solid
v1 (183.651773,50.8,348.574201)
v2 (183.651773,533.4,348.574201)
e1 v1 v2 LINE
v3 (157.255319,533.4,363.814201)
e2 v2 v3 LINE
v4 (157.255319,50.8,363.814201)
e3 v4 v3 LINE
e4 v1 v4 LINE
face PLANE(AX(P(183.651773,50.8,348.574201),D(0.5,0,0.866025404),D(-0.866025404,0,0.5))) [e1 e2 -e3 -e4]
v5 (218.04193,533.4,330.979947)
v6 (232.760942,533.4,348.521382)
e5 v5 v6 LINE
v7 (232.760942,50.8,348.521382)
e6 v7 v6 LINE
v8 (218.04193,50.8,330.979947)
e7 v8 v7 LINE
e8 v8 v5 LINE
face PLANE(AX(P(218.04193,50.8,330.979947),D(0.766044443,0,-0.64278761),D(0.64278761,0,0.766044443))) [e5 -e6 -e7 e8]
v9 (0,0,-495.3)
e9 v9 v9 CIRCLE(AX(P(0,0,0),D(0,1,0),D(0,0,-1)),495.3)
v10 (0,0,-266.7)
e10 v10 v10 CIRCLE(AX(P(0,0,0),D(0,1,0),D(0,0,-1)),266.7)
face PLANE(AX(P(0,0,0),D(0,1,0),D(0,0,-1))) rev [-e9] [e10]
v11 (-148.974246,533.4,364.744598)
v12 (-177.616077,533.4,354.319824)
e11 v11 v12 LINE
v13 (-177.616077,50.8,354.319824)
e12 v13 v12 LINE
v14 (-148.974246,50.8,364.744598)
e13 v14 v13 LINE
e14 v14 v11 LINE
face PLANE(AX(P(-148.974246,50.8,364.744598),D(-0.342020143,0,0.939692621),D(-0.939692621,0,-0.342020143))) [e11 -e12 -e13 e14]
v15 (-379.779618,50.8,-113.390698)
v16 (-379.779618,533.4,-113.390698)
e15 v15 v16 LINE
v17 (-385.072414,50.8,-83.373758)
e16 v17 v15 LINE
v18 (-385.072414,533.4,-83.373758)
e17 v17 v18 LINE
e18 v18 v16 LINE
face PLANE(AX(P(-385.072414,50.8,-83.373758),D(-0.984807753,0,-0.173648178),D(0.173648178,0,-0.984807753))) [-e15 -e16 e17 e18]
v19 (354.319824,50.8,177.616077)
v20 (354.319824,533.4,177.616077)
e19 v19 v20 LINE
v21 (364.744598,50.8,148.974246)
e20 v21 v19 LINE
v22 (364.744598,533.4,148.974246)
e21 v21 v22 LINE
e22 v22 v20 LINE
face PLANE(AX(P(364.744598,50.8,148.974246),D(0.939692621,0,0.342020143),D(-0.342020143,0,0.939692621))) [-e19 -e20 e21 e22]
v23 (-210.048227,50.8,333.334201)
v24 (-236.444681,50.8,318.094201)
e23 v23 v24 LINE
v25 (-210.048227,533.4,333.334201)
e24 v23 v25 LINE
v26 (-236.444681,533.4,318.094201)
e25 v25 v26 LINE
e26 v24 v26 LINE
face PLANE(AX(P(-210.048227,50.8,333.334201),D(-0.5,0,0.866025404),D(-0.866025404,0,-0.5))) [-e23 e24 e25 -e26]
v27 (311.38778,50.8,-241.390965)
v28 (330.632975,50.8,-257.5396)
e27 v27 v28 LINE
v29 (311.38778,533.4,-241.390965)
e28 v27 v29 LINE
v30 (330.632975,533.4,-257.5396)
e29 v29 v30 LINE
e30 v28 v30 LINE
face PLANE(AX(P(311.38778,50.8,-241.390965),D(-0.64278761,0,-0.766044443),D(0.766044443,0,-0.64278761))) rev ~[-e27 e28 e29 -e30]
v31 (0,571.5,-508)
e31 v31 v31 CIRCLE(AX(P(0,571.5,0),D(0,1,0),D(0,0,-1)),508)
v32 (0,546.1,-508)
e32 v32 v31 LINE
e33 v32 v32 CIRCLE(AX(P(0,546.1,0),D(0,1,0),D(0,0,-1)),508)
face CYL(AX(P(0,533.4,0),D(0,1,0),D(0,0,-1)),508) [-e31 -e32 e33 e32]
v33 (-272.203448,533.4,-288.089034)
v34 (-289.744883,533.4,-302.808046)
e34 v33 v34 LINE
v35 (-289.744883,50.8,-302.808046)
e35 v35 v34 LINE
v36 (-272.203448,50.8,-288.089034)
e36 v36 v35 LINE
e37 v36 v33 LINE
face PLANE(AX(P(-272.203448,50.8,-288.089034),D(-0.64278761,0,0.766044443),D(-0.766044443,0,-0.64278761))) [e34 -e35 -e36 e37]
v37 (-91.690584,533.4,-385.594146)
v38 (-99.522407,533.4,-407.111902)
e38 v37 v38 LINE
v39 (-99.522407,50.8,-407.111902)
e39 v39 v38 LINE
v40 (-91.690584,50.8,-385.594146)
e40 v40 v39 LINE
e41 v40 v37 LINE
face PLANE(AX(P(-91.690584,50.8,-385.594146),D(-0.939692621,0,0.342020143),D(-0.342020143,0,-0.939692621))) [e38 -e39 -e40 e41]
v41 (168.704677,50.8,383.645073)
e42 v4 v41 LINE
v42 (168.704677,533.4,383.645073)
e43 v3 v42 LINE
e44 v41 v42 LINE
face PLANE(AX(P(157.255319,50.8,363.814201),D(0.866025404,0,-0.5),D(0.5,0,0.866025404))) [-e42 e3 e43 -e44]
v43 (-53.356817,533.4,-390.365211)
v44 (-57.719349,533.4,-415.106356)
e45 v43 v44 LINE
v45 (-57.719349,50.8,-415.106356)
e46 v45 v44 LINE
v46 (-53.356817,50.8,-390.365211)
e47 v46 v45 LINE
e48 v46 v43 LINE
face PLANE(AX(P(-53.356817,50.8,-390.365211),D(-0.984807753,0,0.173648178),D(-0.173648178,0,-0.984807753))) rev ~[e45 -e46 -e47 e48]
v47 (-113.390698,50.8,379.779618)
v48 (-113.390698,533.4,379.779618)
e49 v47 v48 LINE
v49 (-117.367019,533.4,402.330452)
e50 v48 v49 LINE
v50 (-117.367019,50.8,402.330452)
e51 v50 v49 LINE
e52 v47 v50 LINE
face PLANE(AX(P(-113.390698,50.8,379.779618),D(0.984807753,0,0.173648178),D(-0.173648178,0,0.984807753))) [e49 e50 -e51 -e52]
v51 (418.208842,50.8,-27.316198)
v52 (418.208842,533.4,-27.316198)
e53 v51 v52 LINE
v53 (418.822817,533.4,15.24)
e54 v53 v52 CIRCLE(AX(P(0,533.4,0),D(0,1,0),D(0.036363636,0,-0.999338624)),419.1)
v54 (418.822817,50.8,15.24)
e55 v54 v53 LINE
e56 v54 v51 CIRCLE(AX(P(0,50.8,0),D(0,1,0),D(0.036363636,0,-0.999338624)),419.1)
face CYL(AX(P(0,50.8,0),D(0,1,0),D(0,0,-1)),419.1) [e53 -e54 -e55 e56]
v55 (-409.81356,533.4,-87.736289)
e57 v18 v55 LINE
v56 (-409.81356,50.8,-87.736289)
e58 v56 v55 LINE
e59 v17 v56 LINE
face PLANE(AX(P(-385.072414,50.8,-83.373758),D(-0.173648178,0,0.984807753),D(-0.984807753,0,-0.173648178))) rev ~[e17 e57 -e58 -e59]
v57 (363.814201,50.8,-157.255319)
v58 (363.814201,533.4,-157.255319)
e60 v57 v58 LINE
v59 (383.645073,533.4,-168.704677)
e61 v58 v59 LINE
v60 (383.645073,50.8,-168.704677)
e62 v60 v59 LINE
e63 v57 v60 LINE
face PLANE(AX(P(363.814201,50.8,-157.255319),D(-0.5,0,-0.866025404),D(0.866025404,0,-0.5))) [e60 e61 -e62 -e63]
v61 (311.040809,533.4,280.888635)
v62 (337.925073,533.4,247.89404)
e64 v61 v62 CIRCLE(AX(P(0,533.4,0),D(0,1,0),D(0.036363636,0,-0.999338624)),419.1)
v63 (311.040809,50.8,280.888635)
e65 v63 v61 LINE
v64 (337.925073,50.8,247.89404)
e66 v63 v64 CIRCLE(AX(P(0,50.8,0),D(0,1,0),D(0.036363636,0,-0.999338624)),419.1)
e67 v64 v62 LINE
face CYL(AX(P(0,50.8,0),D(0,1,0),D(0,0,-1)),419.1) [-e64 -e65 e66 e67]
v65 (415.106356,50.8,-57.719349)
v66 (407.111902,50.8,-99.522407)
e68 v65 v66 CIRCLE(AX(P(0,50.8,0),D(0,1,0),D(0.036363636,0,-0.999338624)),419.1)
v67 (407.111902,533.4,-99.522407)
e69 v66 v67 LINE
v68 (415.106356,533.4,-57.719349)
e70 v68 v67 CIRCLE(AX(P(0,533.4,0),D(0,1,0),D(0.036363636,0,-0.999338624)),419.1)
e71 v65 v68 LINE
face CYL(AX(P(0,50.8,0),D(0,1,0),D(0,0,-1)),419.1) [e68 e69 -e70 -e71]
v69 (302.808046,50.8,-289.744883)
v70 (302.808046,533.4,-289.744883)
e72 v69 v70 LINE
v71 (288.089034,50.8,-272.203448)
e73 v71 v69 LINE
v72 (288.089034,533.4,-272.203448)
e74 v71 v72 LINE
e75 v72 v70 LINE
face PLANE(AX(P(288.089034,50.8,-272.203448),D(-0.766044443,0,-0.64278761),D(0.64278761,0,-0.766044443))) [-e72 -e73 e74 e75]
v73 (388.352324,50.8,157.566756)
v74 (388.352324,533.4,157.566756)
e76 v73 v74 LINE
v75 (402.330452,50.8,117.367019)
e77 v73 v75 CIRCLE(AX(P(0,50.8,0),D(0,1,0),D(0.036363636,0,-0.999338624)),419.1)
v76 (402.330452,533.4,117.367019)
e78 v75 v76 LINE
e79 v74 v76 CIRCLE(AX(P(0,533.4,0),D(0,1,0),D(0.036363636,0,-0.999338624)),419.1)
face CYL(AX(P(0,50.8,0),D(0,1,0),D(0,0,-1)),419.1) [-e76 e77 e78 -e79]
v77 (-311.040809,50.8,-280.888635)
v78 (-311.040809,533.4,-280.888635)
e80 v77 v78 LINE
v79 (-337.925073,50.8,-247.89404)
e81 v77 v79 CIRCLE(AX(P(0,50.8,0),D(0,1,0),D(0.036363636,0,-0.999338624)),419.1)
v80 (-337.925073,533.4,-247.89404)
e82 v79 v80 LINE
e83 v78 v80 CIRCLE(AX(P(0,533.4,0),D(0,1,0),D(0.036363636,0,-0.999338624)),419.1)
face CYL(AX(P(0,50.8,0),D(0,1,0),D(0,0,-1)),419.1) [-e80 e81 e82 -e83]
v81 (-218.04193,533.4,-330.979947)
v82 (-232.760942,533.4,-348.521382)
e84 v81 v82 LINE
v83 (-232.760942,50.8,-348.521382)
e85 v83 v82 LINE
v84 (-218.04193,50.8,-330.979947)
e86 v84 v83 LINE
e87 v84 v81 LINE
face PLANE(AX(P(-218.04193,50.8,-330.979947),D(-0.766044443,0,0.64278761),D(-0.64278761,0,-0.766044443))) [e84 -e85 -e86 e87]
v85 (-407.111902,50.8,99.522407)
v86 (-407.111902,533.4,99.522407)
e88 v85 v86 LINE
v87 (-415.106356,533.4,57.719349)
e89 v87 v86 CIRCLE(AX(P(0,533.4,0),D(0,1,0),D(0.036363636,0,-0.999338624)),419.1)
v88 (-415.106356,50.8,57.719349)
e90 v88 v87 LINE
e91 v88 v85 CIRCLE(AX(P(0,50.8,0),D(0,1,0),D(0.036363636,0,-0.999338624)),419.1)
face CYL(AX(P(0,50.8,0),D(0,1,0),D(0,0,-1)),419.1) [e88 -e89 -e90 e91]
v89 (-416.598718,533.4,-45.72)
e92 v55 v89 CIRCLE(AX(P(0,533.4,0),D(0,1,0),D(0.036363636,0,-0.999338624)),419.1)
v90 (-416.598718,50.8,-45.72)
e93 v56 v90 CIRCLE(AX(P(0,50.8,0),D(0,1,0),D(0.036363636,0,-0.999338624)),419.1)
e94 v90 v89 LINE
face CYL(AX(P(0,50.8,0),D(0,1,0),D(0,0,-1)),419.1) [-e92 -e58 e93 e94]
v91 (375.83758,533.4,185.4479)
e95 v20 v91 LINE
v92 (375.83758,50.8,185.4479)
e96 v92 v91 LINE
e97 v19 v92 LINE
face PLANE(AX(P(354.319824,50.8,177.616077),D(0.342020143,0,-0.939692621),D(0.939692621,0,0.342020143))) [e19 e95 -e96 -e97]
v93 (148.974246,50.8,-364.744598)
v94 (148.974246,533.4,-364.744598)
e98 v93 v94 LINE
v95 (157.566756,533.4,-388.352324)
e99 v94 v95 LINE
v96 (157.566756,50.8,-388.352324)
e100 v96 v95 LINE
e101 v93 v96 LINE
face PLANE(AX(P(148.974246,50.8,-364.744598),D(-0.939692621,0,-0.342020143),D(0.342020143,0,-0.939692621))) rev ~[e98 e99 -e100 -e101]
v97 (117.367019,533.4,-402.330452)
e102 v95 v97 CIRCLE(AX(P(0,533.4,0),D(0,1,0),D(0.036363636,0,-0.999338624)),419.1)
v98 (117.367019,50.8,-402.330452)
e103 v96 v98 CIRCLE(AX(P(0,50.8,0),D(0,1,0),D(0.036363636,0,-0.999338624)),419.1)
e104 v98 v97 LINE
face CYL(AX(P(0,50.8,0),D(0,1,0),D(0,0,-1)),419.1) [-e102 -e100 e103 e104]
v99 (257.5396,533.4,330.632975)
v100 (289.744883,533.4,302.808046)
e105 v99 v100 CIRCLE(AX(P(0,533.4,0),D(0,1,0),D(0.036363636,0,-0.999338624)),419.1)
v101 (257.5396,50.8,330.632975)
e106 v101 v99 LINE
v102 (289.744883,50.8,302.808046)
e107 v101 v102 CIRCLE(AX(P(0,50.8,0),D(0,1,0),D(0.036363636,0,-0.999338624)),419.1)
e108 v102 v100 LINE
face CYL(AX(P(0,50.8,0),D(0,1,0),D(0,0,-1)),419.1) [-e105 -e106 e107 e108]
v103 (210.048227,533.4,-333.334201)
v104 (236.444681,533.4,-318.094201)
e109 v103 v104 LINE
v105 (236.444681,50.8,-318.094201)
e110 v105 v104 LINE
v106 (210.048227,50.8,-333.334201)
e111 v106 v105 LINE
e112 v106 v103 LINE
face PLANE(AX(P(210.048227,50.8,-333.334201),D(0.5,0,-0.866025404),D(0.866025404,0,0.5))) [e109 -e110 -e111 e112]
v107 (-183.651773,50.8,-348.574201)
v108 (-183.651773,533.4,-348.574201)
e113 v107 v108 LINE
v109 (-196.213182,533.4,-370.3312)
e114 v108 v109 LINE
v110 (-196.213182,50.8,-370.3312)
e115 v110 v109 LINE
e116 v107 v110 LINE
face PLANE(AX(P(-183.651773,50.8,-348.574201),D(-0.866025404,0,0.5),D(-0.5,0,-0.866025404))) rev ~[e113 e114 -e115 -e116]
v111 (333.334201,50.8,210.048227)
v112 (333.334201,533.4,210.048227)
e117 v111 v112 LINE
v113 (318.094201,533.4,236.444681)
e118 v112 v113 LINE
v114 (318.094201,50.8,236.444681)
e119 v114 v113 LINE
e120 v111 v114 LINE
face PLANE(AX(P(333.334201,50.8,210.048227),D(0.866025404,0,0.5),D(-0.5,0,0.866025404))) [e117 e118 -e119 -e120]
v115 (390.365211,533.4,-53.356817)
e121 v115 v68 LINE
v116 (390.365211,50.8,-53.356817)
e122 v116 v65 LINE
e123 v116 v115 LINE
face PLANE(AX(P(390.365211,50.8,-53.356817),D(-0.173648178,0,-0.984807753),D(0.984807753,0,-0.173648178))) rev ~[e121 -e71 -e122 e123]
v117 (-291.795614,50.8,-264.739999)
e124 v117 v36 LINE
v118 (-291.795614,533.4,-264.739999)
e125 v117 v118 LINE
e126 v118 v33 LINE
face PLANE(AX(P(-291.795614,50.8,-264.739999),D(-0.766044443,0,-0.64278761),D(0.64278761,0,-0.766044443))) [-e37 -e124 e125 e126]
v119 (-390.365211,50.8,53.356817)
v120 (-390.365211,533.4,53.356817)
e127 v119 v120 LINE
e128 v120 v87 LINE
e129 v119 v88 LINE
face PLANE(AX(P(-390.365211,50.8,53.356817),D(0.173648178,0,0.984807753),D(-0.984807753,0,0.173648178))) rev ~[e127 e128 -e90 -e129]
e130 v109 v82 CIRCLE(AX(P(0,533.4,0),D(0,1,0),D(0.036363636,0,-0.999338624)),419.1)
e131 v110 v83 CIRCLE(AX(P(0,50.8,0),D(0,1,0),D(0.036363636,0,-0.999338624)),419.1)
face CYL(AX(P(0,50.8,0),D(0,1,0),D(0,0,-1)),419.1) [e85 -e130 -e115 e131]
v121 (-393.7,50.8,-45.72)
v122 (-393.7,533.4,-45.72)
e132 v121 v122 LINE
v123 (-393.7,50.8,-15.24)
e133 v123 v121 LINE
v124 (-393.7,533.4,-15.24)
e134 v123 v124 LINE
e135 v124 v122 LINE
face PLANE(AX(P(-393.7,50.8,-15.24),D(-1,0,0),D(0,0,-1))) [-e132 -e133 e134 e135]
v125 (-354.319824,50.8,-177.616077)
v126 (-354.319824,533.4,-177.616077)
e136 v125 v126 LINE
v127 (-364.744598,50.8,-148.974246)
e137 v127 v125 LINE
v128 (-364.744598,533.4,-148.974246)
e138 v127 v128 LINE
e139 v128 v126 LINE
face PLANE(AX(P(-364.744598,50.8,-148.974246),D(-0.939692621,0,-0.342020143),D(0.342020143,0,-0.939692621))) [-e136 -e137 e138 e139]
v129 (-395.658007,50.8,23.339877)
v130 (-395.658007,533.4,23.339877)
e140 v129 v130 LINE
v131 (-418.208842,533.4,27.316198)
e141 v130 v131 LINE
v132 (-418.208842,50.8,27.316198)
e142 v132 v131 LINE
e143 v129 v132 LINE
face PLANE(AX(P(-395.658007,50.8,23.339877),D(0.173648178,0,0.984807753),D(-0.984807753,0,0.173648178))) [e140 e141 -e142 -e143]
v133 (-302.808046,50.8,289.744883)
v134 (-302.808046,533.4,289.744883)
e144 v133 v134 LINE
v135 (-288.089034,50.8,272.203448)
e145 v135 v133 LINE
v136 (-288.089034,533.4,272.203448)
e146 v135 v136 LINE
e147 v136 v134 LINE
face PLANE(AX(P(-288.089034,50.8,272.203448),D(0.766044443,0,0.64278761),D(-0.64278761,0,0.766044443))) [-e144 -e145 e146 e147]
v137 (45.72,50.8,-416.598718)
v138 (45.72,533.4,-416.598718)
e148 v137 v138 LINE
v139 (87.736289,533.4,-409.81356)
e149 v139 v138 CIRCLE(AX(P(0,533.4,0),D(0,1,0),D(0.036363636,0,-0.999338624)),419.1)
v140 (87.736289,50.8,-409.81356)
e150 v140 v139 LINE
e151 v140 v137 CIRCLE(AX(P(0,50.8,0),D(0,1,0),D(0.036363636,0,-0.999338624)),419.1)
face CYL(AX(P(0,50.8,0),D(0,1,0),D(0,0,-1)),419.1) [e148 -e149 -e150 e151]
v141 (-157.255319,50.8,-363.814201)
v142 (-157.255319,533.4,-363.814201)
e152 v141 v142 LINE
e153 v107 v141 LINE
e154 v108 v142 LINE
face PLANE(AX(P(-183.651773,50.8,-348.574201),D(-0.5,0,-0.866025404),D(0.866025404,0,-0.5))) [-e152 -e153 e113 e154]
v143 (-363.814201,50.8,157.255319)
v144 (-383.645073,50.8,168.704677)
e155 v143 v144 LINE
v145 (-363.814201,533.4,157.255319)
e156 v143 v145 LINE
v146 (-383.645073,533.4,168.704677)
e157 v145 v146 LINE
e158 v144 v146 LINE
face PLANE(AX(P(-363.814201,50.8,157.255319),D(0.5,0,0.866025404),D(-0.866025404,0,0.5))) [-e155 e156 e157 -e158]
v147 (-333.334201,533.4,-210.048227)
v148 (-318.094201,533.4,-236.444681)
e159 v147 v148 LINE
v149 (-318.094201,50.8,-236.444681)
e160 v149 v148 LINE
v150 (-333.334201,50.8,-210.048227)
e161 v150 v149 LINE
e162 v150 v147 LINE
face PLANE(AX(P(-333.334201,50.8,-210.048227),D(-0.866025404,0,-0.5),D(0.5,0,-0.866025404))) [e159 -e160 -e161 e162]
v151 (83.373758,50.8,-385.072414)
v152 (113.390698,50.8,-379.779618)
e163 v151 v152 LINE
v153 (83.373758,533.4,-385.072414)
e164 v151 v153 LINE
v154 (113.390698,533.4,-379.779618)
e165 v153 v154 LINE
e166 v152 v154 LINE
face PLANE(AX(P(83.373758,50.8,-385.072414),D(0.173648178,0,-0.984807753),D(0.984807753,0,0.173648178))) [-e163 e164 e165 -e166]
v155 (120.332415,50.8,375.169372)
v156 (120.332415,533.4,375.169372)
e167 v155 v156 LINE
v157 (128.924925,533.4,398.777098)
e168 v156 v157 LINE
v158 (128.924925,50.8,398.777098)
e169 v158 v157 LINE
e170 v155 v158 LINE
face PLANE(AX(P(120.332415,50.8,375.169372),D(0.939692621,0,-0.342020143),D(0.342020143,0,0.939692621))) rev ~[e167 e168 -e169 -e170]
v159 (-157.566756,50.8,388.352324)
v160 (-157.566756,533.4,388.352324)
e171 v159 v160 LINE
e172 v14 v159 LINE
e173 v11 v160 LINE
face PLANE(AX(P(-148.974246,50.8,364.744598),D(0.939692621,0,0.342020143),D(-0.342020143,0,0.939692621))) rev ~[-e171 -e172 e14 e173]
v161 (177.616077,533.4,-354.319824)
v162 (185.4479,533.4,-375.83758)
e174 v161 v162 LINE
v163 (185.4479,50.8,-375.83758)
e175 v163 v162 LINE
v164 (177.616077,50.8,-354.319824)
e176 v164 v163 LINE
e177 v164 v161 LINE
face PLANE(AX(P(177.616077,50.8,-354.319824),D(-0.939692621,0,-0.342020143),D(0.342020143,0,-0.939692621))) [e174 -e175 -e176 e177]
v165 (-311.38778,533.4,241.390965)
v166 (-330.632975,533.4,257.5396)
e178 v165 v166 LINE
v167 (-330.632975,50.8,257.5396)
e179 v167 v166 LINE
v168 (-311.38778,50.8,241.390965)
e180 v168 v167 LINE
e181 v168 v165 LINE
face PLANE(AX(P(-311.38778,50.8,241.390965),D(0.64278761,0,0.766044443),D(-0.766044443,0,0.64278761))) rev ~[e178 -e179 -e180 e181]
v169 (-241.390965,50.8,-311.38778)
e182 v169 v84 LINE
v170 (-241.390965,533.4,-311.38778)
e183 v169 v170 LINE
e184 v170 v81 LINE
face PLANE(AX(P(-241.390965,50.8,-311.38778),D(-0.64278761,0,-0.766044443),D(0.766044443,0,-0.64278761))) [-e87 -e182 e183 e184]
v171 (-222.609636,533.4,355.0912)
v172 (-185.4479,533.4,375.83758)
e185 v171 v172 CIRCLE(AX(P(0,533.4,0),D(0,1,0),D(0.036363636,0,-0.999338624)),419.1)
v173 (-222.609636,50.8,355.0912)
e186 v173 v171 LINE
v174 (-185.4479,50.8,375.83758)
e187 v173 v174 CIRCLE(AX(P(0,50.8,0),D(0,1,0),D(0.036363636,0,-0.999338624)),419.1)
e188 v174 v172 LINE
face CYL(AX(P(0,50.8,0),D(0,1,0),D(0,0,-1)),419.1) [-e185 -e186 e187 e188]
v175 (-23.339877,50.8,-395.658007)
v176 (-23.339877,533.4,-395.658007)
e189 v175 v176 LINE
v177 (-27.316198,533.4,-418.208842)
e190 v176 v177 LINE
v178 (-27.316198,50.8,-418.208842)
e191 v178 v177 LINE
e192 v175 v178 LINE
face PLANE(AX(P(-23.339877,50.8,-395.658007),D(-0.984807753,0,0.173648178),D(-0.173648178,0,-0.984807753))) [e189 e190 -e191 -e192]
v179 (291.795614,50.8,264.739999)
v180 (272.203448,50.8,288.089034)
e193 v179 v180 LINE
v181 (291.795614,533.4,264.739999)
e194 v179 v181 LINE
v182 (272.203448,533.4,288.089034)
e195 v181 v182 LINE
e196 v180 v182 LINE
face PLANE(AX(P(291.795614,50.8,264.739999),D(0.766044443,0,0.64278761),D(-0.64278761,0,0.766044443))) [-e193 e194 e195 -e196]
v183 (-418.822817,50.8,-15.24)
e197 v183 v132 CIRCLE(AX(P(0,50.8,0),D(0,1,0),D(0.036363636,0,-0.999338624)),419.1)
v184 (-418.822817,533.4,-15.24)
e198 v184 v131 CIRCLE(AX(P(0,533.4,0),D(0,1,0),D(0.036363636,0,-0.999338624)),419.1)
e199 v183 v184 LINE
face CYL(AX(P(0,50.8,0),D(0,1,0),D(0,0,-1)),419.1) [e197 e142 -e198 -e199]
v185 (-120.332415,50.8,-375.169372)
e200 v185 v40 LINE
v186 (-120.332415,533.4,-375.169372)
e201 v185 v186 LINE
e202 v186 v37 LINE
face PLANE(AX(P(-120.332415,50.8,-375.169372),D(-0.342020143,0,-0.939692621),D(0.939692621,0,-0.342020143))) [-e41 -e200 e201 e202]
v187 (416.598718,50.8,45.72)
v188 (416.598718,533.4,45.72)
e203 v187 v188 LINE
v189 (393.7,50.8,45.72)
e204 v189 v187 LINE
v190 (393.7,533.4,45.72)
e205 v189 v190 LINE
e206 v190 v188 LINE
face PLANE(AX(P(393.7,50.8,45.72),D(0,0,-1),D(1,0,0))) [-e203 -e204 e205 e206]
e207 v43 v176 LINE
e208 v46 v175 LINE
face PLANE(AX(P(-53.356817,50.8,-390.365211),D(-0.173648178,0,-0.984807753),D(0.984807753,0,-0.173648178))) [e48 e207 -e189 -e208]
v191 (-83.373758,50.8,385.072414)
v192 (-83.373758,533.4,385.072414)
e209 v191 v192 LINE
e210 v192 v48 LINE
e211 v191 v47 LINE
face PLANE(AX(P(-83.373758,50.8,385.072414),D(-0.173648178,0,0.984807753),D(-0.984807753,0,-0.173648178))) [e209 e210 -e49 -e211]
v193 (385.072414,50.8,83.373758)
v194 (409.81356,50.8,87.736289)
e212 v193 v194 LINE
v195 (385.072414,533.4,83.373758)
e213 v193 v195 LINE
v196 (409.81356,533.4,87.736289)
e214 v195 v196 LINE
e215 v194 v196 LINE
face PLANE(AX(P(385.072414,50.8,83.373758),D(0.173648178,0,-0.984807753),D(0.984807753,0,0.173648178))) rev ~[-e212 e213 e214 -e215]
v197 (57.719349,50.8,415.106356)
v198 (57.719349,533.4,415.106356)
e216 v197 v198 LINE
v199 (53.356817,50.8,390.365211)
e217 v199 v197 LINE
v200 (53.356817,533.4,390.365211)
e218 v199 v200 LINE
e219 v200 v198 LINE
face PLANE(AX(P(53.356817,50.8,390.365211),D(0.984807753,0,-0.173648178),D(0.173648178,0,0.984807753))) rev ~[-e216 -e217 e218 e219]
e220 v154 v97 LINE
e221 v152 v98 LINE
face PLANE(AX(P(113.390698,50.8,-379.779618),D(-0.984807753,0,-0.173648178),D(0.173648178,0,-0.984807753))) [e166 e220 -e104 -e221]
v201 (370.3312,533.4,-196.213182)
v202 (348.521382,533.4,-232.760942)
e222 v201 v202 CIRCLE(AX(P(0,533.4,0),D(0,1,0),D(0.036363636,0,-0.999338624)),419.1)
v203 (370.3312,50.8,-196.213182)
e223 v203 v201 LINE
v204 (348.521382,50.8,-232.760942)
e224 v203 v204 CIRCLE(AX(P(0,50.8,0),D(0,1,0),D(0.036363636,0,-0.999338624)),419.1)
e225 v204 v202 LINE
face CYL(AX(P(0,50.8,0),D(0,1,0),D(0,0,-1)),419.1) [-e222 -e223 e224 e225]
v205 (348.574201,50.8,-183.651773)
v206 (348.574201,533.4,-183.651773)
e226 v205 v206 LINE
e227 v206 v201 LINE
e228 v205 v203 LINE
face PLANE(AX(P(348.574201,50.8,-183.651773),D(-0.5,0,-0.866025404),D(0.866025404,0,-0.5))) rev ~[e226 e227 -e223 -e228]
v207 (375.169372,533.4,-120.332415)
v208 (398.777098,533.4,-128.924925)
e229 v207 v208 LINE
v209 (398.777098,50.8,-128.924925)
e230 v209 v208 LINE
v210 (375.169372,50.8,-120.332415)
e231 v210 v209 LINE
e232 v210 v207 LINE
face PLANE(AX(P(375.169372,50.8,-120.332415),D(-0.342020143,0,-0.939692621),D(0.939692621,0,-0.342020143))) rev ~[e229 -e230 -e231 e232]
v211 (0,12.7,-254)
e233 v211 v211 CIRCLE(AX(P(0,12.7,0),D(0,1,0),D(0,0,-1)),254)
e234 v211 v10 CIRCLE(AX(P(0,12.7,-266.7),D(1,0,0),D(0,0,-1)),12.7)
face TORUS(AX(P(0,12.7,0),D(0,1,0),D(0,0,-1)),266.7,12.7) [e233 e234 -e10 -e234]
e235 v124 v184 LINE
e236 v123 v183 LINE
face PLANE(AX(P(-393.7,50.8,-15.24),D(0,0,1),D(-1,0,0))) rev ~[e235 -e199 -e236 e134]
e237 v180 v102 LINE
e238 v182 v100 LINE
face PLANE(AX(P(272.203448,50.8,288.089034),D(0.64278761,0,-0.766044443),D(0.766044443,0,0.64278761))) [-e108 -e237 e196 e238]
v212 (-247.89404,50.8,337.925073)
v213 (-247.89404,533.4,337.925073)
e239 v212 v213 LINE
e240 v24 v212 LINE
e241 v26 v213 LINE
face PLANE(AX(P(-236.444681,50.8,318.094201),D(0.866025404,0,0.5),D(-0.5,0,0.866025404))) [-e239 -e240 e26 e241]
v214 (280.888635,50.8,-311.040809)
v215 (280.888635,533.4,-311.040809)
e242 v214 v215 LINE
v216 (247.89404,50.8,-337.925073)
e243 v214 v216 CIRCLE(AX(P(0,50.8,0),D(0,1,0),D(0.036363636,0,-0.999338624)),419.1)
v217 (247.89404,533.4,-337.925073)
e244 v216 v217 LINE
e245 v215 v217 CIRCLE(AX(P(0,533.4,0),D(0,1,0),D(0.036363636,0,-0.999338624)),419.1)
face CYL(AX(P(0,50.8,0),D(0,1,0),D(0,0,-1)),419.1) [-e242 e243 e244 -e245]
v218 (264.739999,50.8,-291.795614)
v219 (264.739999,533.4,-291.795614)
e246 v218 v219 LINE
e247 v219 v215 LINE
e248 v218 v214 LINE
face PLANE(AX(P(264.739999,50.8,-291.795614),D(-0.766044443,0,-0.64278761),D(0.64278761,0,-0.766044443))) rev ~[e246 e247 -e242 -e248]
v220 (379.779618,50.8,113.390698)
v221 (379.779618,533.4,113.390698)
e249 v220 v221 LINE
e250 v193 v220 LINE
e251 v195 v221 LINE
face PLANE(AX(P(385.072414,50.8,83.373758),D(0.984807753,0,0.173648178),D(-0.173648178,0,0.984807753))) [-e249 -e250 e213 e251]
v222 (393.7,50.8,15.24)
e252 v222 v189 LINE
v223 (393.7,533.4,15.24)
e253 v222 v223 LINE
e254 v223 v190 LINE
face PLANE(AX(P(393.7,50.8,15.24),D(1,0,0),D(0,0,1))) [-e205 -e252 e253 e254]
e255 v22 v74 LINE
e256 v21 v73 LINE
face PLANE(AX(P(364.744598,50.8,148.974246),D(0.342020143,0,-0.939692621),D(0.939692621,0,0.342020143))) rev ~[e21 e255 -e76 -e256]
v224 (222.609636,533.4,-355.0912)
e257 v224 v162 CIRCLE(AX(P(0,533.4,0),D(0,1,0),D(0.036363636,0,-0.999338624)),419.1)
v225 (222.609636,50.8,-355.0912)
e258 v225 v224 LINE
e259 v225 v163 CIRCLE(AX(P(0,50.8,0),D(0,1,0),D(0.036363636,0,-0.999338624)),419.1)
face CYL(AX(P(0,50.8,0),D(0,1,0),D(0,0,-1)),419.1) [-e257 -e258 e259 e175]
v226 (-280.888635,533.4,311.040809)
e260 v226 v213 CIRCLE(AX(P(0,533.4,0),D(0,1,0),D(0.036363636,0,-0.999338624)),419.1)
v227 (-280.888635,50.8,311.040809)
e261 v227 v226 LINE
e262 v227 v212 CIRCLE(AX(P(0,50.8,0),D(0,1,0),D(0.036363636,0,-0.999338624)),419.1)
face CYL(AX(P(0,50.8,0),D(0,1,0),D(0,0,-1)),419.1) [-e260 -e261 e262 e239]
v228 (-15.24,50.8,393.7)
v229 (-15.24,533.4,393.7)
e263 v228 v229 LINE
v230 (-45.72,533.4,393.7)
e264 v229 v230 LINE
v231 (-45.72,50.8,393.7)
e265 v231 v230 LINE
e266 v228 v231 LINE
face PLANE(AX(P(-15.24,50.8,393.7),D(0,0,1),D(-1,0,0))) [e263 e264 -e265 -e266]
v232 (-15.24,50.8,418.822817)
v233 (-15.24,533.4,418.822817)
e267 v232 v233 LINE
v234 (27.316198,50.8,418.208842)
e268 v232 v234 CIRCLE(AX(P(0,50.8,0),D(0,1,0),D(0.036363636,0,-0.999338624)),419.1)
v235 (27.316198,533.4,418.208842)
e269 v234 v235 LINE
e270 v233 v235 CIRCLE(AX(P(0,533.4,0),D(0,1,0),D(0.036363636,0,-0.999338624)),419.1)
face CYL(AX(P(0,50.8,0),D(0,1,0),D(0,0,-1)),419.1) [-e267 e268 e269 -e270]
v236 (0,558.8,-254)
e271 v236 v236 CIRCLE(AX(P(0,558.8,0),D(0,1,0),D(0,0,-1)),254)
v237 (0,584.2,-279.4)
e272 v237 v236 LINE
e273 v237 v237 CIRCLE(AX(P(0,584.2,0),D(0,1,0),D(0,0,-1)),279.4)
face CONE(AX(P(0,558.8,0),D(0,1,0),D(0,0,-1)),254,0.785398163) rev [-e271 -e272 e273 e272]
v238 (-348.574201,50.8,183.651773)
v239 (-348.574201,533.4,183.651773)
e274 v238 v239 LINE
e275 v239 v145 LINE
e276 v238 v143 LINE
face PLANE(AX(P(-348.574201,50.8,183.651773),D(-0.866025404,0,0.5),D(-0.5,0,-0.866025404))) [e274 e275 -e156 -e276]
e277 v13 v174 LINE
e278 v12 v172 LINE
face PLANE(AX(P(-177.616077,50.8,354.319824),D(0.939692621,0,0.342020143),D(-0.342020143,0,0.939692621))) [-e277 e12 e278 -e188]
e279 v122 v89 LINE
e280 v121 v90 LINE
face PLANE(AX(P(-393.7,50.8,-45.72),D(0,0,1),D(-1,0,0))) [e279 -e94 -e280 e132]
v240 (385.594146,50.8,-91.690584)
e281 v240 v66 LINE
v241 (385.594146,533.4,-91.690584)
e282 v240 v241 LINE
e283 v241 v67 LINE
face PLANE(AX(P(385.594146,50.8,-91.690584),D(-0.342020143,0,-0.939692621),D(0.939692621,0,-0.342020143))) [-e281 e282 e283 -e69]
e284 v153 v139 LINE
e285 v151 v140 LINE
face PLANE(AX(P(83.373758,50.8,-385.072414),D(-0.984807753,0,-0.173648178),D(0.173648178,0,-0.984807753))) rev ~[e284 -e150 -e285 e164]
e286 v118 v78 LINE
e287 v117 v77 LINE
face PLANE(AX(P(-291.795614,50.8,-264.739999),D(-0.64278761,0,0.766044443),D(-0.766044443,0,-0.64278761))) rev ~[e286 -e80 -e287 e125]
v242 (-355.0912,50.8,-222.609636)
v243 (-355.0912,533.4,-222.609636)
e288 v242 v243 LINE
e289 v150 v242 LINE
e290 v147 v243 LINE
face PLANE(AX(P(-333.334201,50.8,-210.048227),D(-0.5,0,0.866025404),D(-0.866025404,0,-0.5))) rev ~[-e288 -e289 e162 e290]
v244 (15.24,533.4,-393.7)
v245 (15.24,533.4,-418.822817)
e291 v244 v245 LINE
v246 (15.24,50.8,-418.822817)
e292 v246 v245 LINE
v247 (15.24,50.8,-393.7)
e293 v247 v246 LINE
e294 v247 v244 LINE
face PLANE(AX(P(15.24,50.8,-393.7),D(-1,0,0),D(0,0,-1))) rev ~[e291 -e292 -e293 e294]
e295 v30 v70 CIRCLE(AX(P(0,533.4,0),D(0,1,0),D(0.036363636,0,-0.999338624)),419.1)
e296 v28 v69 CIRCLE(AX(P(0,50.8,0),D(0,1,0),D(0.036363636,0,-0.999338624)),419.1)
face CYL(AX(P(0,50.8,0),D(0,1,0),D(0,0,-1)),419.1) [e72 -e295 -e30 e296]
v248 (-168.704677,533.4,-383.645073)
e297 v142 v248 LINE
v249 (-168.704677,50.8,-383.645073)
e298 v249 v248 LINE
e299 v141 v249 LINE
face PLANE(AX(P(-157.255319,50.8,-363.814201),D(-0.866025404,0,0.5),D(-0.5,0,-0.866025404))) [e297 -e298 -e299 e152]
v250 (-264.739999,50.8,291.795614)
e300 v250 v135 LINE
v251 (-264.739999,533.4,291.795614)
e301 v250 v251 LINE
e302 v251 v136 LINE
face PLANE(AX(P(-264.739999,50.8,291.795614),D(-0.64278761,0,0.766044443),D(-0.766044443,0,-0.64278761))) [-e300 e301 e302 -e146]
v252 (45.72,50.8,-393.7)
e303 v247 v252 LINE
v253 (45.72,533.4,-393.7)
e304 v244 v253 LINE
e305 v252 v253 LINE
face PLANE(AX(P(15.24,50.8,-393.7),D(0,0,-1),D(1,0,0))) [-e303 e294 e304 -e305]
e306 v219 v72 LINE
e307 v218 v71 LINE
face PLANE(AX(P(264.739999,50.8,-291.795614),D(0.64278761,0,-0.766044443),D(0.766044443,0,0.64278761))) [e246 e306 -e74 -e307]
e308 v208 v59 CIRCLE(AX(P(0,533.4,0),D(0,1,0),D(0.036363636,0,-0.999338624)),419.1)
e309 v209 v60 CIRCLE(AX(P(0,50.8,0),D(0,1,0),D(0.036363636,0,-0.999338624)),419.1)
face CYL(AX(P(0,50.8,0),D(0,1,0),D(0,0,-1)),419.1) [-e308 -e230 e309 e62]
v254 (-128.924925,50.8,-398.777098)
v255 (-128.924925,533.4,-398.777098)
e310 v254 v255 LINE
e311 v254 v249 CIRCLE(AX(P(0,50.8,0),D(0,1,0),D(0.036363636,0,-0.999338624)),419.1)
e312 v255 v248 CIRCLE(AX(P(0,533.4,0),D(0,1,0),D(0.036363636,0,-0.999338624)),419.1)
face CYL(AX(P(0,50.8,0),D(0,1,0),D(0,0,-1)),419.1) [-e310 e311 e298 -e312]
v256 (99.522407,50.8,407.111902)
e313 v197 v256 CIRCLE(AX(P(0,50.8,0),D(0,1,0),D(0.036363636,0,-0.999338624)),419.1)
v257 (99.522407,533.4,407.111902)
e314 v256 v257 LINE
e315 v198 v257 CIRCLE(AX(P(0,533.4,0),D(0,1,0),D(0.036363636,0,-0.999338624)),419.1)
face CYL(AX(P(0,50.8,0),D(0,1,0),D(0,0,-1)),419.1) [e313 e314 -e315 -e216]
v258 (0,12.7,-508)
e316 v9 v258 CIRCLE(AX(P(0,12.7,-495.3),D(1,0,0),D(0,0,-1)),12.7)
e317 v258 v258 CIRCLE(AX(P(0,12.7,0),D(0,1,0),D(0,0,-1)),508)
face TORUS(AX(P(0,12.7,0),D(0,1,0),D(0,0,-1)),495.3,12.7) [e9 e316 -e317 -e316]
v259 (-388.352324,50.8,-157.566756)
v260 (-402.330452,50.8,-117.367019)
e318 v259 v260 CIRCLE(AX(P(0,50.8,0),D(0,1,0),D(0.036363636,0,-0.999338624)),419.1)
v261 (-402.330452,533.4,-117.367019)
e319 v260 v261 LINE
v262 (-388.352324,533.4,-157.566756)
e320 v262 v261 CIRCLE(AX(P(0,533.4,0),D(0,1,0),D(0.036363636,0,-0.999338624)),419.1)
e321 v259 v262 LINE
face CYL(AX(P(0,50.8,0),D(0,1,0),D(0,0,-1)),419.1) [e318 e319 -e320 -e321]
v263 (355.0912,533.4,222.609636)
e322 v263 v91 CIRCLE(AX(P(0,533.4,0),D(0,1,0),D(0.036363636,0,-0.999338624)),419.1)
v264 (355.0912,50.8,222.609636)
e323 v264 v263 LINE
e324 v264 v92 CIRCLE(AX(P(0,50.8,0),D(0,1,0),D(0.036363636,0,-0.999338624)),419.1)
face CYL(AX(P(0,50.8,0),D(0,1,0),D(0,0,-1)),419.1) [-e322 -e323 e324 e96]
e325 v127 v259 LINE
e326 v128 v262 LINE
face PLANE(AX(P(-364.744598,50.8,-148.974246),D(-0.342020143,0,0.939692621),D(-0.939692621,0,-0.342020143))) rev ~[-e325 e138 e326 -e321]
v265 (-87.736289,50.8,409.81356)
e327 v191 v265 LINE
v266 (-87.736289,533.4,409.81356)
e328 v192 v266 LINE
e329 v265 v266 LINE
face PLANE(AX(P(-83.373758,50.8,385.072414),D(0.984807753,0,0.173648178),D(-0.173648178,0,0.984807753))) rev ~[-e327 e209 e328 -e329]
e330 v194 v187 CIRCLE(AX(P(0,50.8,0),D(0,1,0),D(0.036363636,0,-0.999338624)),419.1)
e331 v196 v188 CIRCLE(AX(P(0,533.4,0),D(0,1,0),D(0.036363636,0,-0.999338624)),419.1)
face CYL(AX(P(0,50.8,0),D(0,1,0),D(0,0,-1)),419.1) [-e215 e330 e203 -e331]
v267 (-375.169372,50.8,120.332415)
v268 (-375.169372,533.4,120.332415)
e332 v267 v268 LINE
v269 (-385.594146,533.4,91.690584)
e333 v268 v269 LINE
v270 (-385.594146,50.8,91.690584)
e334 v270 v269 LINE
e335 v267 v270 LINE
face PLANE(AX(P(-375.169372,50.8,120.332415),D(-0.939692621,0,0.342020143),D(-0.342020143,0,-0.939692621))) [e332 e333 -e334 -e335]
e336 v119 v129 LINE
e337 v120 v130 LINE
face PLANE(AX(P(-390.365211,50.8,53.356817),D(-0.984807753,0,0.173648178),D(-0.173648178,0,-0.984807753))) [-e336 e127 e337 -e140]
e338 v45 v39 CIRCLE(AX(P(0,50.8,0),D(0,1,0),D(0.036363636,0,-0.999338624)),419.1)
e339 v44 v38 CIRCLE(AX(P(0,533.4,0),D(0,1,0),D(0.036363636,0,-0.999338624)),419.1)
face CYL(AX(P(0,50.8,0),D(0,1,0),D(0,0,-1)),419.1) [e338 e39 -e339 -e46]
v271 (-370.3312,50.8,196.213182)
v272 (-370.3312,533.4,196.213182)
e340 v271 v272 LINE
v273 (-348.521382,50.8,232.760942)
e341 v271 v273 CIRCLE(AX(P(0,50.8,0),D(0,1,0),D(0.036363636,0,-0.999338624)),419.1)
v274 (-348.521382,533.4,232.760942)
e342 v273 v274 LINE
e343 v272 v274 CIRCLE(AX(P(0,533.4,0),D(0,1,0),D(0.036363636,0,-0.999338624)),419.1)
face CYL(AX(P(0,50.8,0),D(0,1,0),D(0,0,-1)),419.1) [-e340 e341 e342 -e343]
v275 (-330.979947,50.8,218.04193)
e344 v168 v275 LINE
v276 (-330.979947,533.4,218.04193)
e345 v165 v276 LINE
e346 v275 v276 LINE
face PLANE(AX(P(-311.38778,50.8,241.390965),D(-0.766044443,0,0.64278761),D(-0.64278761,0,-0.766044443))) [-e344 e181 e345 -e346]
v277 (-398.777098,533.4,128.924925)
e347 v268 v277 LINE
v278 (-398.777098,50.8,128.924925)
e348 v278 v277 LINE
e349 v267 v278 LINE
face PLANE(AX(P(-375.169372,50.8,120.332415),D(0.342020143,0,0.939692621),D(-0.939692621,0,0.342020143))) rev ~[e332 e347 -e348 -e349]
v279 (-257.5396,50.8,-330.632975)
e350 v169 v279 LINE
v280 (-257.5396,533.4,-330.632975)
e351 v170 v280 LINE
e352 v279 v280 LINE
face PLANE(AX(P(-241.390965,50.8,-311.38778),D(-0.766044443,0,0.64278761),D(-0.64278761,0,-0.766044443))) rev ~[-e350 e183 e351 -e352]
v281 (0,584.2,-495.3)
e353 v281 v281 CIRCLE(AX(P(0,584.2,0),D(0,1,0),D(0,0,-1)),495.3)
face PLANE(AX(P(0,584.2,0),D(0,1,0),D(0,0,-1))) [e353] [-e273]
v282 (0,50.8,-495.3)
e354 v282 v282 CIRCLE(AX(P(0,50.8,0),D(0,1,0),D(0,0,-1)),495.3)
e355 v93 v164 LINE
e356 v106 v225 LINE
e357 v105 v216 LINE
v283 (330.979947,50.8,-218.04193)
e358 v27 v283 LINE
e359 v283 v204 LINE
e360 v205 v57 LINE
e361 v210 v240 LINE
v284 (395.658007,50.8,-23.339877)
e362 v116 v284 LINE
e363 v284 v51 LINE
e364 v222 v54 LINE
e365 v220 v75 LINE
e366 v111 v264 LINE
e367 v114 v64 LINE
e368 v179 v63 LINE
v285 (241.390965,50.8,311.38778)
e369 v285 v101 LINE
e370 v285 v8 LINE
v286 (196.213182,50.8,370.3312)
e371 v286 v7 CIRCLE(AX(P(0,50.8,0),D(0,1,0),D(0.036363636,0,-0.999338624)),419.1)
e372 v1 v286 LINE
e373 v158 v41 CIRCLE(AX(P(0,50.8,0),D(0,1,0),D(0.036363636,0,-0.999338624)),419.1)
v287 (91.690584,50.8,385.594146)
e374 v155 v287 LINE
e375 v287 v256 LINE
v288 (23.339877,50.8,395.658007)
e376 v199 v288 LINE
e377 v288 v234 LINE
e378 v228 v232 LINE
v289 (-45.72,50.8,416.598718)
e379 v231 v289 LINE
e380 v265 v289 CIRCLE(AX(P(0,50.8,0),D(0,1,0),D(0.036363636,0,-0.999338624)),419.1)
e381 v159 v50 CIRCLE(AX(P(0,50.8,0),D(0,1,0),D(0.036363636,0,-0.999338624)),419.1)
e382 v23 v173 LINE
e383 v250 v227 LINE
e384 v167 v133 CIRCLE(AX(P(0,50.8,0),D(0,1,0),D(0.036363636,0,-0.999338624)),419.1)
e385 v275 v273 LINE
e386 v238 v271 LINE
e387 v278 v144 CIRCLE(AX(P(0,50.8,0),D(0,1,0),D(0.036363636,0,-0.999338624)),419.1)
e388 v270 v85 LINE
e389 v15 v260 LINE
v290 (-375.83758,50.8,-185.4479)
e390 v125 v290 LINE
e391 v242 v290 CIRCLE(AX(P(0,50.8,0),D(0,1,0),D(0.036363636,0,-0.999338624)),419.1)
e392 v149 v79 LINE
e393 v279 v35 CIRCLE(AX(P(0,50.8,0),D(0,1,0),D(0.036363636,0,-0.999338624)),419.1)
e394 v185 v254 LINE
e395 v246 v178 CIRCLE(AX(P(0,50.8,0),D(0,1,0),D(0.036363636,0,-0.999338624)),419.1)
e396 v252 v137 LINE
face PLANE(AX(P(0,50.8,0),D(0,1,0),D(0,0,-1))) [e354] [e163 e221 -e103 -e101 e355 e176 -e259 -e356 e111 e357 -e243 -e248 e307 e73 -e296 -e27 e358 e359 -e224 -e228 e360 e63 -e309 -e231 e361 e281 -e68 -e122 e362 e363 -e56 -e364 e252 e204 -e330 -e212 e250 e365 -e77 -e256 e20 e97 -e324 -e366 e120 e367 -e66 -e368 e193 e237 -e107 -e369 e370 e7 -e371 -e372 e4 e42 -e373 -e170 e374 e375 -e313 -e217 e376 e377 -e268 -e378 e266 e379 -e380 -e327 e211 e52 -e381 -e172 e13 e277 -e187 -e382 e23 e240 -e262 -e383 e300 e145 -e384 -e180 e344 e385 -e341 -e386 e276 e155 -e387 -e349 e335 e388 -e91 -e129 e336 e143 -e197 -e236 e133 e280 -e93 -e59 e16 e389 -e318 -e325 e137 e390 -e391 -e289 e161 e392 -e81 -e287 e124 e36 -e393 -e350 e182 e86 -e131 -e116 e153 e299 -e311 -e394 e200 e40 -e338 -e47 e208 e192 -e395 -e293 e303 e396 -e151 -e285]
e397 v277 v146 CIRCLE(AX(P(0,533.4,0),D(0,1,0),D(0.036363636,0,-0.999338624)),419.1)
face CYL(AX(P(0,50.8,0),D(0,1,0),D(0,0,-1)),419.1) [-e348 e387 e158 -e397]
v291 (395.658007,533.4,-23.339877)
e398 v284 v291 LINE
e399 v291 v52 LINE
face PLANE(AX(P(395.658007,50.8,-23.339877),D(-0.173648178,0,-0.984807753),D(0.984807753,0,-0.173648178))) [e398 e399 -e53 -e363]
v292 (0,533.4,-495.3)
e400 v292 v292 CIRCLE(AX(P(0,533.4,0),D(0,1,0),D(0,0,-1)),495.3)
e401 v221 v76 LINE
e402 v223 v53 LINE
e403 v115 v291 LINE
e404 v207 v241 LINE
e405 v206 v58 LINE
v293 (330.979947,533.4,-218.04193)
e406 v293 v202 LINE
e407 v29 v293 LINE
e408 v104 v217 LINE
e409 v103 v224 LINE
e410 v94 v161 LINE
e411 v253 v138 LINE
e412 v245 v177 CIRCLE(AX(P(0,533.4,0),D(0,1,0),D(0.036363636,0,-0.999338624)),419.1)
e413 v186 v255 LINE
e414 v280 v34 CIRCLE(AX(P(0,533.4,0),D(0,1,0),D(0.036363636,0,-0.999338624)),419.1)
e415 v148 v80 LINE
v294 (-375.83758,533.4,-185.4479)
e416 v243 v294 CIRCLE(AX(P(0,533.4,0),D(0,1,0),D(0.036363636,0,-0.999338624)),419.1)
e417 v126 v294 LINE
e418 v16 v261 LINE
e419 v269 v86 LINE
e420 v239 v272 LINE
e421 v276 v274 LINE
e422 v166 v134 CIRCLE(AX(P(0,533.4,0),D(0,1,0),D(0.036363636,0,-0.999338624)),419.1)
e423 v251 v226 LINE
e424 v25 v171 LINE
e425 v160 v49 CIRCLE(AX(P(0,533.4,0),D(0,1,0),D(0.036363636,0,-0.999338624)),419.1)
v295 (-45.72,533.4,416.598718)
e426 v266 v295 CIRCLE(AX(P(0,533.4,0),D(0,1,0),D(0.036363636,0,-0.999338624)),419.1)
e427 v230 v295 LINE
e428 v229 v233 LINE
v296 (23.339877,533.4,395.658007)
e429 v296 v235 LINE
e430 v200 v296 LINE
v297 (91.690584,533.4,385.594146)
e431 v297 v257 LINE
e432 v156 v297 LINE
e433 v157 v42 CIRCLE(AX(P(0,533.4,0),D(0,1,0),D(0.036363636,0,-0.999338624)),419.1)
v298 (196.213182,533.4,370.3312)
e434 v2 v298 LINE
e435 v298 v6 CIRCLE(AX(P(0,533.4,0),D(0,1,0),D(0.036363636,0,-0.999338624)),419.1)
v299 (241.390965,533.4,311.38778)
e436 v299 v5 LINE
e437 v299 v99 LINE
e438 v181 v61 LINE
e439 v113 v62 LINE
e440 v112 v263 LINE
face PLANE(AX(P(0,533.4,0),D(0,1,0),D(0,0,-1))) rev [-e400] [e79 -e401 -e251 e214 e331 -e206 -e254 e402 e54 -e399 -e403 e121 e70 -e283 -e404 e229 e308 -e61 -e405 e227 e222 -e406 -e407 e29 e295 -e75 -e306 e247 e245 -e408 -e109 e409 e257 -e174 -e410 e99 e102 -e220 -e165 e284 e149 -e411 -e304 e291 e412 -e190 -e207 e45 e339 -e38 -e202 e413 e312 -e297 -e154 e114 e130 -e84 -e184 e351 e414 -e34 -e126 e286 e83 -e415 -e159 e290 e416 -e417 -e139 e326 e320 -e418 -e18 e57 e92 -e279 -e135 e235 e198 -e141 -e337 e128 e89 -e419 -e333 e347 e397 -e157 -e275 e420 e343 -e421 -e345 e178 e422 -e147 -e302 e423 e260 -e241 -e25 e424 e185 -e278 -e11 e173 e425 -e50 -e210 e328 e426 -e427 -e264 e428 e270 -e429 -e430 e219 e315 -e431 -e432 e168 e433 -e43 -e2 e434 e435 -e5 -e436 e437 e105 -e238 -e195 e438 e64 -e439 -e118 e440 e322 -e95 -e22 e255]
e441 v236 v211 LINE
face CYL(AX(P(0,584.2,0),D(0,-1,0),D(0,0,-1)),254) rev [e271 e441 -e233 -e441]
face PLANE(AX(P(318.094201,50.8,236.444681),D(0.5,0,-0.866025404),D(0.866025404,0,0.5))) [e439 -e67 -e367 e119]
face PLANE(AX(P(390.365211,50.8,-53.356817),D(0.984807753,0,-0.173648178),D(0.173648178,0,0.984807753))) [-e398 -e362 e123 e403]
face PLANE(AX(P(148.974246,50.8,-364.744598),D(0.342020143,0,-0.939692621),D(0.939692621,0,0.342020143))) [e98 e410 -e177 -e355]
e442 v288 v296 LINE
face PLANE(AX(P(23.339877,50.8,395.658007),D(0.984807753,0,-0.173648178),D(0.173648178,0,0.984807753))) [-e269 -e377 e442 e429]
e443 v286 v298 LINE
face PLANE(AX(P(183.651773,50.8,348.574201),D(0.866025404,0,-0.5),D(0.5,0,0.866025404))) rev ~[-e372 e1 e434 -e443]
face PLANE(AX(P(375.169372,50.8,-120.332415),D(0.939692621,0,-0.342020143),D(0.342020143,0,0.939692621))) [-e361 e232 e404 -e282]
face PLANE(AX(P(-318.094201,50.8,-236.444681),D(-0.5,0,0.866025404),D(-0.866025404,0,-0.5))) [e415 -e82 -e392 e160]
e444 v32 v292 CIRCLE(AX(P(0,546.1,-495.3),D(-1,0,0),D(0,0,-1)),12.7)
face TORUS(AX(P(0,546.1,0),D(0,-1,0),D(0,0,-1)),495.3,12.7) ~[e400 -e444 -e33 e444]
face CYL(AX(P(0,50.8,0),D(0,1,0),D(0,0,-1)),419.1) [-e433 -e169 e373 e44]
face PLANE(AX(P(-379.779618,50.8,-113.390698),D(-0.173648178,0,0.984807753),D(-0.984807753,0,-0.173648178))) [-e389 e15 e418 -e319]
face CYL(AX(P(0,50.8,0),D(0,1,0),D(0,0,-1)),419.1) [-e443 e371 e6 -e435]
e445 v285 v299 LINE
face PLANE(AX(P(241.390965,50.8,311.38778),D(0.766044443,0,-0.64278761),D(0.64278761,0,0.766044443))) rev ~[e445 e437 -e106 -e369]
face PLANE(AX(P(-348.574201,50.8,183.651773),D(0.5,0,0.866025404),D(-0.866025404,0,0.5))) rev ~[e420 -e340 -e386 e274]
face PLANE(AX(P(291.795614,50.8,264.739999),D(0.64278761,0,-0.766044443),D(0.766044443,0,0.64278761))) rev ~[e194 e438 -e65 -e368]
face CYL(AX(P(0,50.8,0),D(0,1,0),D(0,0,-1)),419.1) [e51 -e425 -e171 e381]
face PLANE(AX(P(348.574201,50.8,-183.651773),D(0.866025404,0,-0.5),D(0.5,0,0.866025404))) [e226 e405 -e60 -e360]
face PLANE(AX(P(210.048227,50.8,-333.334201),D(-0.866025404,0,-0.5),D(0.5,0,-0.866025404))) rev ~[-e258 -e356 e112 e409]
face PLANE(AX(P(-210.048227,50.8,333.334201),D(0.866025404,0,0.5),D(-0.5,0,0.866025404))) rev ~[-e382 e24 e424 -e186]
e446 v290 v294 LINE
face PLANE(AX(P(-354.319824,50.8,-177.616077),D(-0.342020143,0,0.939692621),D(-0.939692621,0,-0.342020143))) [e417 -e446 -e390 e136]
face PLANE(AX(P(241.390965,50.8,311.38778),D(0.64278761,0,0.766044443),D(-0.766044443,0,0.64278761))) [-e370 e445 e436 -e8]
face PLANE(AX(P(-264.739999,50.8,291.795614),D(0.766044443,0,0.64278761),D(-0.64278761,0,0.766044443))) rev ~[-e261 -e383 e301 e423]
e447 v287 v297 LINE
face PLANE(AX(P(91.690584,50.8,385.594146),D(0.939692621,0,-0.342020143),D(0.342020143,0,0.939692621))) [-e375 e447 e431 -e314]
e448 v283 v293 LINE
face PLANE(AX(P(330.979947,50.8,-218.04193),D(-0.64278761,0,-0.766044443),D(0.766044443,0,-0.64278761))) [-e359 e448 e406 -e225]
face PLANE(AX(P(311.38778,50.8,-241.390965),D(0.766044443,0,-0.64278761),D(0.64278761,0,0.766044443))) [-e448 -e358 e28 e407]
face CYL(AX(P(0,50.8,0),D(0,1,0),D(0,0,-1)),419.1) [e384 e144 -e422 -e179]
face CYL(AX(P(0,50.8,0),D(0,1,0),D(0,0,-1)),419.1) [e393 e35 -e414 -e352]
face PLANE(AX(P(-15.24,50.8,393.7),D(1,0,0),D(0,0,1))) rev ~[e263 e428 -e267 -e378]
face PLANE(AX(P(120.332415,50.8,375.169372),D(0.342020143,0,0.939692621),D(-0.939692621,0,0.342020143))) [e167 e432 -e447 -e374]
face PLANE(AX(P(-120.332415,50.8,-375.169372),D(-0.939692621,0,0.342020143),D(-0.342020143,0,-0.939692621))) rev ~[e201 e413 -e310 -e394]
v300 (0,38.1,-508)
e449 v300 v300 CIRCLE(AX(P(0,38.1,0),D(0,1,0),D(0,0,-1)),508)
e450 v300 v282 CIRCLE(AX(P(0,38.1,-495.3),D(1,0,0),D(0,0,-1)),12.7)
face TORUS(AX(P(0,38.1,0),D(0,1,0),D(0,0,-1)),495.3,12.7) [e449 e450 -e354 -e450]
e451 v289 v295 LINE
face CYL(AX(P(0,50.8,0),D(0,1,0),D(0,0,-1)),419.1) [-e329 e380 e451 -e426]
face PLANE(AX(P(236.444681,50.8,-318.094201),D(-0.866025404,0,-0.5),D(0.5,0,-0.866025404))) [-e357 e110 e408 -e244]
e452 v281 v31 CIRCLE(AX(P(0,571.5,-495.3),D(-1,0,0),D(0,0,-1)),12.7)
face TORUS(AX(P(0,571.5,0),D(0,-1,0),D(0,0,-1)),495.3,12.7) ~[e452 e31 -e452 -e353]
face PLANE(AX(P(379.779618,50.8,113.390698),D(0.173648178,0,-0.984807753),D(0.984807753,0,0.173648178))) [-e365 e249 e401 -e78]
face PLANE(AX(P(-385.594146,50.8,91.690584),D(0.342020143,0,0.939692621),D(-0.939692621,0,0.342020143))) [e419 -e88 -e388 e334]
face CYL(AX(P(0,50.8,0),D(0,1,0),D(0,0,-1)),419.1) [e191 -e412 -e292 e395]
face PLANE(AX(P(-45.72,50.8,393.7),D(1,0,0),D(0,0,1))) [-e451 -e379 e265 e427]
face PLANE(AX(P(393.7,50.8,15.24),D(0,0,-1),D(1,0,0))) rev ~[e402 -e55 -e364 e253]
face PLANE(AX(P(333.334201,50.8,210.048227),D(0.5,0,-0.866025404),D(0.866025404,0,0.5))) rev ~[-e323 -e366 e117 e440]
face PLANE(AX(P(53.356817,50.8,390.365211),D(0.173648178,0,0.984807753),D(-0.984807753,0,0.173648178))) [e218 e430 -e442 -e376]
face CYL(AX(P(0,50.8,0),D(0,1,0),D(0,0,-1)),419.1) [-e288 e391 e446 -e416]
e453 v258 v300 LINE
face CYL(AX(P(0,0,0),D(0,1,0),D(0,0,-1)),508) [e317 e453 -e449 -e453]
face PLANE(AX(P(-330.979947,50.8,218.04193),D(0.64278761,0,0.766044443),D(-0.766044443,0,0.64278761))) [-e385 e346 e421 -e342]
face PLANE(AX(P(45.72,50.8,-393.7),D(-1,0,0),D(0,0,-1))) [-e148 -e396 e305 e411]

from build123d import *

# Parameters (mm, degrees)
CHAMFER1_SIZE      = 25.4
FILLET1_R          = 12.7
SKETCH3_W          = 30.48
SKETCH3_H          = 30.48
CUT_EXTRUDE1_DEPTH = 482.6
CIRPATTERN1_COUNT  = 36
FILLET2_R          = 12.7


with BuildPart() as part:
    # Sketch1 → Revolve1 (revolve)
    with BuildSketch(Plane.XY, mode=Mode.PRIVATE) as revolve1_sk:
        Polygon((254, 0), (508, 0), (508, 50.8), (419.1, 50.8), (419.1, 533.4), (508, 533.4), (508, 584.2), (254, 584.2), align=None)
    revolve(revolve1_sk.sketch.rotate(Axis((0, 0, 0), (0, 1, 0)), 90), axis=Axis((0, 0, 0), (0, 1, 0)))

    # Chamfer1
    chamfer1_edges = [part.edges().sort_by_distance(p)[0] for p in [
        (0, 584.2, 254),
    ]]
    chamfer(chamfer1_edges, length=CHAMFER1_SIZE)

    # Fillet1
    fillet1_edges = [part.edges().sort_by_distance(p)[0] for p in [
        (0, 584.2, 508),
        (0, 533.4, 508),
        (0, 50.8, 508),
        (0, 0, 508),
    ]]
    fillet(fillet1_edges, radius=FILLET1_R)

    # Sketch3 → Cut-Extrude1 (cut)
    with BuildSketch(Plane(origin=(0, 50.8, 0), x_dir=(1, 0, 0), z_dir=(0, 1, 0))):
        with Locations((30.48, 408.94)):
            Rectangle(SKETCH3_W, SKETCH3_H)
    cut_extrude1 = extrude(amount=CUT_EXTRUDE1_DEPTH, mode=Mode.SUBTRACT)

    # CirPattern1: Cut-Extrude1 ×36 about axis
    cirpattern1_axis = Axis((0, 0, 0), (0, 1, 0))
    for i in range(1, CIRPATTERN1_COUNT):
        add(cut_extrude1.rotate(cirpattern1_axis, i * 360 / CIRPATTERN1_COUNT), mode=Mode.SUBTRACT)

    # Fillet2
    fillet2_edges = [part.edges().sort_by_distance(p)[0] for p in [
        (0, 0, 254),
    ]]
    fillet(fillet2_edges, radius=FILLET2_R)


solid = part.part
